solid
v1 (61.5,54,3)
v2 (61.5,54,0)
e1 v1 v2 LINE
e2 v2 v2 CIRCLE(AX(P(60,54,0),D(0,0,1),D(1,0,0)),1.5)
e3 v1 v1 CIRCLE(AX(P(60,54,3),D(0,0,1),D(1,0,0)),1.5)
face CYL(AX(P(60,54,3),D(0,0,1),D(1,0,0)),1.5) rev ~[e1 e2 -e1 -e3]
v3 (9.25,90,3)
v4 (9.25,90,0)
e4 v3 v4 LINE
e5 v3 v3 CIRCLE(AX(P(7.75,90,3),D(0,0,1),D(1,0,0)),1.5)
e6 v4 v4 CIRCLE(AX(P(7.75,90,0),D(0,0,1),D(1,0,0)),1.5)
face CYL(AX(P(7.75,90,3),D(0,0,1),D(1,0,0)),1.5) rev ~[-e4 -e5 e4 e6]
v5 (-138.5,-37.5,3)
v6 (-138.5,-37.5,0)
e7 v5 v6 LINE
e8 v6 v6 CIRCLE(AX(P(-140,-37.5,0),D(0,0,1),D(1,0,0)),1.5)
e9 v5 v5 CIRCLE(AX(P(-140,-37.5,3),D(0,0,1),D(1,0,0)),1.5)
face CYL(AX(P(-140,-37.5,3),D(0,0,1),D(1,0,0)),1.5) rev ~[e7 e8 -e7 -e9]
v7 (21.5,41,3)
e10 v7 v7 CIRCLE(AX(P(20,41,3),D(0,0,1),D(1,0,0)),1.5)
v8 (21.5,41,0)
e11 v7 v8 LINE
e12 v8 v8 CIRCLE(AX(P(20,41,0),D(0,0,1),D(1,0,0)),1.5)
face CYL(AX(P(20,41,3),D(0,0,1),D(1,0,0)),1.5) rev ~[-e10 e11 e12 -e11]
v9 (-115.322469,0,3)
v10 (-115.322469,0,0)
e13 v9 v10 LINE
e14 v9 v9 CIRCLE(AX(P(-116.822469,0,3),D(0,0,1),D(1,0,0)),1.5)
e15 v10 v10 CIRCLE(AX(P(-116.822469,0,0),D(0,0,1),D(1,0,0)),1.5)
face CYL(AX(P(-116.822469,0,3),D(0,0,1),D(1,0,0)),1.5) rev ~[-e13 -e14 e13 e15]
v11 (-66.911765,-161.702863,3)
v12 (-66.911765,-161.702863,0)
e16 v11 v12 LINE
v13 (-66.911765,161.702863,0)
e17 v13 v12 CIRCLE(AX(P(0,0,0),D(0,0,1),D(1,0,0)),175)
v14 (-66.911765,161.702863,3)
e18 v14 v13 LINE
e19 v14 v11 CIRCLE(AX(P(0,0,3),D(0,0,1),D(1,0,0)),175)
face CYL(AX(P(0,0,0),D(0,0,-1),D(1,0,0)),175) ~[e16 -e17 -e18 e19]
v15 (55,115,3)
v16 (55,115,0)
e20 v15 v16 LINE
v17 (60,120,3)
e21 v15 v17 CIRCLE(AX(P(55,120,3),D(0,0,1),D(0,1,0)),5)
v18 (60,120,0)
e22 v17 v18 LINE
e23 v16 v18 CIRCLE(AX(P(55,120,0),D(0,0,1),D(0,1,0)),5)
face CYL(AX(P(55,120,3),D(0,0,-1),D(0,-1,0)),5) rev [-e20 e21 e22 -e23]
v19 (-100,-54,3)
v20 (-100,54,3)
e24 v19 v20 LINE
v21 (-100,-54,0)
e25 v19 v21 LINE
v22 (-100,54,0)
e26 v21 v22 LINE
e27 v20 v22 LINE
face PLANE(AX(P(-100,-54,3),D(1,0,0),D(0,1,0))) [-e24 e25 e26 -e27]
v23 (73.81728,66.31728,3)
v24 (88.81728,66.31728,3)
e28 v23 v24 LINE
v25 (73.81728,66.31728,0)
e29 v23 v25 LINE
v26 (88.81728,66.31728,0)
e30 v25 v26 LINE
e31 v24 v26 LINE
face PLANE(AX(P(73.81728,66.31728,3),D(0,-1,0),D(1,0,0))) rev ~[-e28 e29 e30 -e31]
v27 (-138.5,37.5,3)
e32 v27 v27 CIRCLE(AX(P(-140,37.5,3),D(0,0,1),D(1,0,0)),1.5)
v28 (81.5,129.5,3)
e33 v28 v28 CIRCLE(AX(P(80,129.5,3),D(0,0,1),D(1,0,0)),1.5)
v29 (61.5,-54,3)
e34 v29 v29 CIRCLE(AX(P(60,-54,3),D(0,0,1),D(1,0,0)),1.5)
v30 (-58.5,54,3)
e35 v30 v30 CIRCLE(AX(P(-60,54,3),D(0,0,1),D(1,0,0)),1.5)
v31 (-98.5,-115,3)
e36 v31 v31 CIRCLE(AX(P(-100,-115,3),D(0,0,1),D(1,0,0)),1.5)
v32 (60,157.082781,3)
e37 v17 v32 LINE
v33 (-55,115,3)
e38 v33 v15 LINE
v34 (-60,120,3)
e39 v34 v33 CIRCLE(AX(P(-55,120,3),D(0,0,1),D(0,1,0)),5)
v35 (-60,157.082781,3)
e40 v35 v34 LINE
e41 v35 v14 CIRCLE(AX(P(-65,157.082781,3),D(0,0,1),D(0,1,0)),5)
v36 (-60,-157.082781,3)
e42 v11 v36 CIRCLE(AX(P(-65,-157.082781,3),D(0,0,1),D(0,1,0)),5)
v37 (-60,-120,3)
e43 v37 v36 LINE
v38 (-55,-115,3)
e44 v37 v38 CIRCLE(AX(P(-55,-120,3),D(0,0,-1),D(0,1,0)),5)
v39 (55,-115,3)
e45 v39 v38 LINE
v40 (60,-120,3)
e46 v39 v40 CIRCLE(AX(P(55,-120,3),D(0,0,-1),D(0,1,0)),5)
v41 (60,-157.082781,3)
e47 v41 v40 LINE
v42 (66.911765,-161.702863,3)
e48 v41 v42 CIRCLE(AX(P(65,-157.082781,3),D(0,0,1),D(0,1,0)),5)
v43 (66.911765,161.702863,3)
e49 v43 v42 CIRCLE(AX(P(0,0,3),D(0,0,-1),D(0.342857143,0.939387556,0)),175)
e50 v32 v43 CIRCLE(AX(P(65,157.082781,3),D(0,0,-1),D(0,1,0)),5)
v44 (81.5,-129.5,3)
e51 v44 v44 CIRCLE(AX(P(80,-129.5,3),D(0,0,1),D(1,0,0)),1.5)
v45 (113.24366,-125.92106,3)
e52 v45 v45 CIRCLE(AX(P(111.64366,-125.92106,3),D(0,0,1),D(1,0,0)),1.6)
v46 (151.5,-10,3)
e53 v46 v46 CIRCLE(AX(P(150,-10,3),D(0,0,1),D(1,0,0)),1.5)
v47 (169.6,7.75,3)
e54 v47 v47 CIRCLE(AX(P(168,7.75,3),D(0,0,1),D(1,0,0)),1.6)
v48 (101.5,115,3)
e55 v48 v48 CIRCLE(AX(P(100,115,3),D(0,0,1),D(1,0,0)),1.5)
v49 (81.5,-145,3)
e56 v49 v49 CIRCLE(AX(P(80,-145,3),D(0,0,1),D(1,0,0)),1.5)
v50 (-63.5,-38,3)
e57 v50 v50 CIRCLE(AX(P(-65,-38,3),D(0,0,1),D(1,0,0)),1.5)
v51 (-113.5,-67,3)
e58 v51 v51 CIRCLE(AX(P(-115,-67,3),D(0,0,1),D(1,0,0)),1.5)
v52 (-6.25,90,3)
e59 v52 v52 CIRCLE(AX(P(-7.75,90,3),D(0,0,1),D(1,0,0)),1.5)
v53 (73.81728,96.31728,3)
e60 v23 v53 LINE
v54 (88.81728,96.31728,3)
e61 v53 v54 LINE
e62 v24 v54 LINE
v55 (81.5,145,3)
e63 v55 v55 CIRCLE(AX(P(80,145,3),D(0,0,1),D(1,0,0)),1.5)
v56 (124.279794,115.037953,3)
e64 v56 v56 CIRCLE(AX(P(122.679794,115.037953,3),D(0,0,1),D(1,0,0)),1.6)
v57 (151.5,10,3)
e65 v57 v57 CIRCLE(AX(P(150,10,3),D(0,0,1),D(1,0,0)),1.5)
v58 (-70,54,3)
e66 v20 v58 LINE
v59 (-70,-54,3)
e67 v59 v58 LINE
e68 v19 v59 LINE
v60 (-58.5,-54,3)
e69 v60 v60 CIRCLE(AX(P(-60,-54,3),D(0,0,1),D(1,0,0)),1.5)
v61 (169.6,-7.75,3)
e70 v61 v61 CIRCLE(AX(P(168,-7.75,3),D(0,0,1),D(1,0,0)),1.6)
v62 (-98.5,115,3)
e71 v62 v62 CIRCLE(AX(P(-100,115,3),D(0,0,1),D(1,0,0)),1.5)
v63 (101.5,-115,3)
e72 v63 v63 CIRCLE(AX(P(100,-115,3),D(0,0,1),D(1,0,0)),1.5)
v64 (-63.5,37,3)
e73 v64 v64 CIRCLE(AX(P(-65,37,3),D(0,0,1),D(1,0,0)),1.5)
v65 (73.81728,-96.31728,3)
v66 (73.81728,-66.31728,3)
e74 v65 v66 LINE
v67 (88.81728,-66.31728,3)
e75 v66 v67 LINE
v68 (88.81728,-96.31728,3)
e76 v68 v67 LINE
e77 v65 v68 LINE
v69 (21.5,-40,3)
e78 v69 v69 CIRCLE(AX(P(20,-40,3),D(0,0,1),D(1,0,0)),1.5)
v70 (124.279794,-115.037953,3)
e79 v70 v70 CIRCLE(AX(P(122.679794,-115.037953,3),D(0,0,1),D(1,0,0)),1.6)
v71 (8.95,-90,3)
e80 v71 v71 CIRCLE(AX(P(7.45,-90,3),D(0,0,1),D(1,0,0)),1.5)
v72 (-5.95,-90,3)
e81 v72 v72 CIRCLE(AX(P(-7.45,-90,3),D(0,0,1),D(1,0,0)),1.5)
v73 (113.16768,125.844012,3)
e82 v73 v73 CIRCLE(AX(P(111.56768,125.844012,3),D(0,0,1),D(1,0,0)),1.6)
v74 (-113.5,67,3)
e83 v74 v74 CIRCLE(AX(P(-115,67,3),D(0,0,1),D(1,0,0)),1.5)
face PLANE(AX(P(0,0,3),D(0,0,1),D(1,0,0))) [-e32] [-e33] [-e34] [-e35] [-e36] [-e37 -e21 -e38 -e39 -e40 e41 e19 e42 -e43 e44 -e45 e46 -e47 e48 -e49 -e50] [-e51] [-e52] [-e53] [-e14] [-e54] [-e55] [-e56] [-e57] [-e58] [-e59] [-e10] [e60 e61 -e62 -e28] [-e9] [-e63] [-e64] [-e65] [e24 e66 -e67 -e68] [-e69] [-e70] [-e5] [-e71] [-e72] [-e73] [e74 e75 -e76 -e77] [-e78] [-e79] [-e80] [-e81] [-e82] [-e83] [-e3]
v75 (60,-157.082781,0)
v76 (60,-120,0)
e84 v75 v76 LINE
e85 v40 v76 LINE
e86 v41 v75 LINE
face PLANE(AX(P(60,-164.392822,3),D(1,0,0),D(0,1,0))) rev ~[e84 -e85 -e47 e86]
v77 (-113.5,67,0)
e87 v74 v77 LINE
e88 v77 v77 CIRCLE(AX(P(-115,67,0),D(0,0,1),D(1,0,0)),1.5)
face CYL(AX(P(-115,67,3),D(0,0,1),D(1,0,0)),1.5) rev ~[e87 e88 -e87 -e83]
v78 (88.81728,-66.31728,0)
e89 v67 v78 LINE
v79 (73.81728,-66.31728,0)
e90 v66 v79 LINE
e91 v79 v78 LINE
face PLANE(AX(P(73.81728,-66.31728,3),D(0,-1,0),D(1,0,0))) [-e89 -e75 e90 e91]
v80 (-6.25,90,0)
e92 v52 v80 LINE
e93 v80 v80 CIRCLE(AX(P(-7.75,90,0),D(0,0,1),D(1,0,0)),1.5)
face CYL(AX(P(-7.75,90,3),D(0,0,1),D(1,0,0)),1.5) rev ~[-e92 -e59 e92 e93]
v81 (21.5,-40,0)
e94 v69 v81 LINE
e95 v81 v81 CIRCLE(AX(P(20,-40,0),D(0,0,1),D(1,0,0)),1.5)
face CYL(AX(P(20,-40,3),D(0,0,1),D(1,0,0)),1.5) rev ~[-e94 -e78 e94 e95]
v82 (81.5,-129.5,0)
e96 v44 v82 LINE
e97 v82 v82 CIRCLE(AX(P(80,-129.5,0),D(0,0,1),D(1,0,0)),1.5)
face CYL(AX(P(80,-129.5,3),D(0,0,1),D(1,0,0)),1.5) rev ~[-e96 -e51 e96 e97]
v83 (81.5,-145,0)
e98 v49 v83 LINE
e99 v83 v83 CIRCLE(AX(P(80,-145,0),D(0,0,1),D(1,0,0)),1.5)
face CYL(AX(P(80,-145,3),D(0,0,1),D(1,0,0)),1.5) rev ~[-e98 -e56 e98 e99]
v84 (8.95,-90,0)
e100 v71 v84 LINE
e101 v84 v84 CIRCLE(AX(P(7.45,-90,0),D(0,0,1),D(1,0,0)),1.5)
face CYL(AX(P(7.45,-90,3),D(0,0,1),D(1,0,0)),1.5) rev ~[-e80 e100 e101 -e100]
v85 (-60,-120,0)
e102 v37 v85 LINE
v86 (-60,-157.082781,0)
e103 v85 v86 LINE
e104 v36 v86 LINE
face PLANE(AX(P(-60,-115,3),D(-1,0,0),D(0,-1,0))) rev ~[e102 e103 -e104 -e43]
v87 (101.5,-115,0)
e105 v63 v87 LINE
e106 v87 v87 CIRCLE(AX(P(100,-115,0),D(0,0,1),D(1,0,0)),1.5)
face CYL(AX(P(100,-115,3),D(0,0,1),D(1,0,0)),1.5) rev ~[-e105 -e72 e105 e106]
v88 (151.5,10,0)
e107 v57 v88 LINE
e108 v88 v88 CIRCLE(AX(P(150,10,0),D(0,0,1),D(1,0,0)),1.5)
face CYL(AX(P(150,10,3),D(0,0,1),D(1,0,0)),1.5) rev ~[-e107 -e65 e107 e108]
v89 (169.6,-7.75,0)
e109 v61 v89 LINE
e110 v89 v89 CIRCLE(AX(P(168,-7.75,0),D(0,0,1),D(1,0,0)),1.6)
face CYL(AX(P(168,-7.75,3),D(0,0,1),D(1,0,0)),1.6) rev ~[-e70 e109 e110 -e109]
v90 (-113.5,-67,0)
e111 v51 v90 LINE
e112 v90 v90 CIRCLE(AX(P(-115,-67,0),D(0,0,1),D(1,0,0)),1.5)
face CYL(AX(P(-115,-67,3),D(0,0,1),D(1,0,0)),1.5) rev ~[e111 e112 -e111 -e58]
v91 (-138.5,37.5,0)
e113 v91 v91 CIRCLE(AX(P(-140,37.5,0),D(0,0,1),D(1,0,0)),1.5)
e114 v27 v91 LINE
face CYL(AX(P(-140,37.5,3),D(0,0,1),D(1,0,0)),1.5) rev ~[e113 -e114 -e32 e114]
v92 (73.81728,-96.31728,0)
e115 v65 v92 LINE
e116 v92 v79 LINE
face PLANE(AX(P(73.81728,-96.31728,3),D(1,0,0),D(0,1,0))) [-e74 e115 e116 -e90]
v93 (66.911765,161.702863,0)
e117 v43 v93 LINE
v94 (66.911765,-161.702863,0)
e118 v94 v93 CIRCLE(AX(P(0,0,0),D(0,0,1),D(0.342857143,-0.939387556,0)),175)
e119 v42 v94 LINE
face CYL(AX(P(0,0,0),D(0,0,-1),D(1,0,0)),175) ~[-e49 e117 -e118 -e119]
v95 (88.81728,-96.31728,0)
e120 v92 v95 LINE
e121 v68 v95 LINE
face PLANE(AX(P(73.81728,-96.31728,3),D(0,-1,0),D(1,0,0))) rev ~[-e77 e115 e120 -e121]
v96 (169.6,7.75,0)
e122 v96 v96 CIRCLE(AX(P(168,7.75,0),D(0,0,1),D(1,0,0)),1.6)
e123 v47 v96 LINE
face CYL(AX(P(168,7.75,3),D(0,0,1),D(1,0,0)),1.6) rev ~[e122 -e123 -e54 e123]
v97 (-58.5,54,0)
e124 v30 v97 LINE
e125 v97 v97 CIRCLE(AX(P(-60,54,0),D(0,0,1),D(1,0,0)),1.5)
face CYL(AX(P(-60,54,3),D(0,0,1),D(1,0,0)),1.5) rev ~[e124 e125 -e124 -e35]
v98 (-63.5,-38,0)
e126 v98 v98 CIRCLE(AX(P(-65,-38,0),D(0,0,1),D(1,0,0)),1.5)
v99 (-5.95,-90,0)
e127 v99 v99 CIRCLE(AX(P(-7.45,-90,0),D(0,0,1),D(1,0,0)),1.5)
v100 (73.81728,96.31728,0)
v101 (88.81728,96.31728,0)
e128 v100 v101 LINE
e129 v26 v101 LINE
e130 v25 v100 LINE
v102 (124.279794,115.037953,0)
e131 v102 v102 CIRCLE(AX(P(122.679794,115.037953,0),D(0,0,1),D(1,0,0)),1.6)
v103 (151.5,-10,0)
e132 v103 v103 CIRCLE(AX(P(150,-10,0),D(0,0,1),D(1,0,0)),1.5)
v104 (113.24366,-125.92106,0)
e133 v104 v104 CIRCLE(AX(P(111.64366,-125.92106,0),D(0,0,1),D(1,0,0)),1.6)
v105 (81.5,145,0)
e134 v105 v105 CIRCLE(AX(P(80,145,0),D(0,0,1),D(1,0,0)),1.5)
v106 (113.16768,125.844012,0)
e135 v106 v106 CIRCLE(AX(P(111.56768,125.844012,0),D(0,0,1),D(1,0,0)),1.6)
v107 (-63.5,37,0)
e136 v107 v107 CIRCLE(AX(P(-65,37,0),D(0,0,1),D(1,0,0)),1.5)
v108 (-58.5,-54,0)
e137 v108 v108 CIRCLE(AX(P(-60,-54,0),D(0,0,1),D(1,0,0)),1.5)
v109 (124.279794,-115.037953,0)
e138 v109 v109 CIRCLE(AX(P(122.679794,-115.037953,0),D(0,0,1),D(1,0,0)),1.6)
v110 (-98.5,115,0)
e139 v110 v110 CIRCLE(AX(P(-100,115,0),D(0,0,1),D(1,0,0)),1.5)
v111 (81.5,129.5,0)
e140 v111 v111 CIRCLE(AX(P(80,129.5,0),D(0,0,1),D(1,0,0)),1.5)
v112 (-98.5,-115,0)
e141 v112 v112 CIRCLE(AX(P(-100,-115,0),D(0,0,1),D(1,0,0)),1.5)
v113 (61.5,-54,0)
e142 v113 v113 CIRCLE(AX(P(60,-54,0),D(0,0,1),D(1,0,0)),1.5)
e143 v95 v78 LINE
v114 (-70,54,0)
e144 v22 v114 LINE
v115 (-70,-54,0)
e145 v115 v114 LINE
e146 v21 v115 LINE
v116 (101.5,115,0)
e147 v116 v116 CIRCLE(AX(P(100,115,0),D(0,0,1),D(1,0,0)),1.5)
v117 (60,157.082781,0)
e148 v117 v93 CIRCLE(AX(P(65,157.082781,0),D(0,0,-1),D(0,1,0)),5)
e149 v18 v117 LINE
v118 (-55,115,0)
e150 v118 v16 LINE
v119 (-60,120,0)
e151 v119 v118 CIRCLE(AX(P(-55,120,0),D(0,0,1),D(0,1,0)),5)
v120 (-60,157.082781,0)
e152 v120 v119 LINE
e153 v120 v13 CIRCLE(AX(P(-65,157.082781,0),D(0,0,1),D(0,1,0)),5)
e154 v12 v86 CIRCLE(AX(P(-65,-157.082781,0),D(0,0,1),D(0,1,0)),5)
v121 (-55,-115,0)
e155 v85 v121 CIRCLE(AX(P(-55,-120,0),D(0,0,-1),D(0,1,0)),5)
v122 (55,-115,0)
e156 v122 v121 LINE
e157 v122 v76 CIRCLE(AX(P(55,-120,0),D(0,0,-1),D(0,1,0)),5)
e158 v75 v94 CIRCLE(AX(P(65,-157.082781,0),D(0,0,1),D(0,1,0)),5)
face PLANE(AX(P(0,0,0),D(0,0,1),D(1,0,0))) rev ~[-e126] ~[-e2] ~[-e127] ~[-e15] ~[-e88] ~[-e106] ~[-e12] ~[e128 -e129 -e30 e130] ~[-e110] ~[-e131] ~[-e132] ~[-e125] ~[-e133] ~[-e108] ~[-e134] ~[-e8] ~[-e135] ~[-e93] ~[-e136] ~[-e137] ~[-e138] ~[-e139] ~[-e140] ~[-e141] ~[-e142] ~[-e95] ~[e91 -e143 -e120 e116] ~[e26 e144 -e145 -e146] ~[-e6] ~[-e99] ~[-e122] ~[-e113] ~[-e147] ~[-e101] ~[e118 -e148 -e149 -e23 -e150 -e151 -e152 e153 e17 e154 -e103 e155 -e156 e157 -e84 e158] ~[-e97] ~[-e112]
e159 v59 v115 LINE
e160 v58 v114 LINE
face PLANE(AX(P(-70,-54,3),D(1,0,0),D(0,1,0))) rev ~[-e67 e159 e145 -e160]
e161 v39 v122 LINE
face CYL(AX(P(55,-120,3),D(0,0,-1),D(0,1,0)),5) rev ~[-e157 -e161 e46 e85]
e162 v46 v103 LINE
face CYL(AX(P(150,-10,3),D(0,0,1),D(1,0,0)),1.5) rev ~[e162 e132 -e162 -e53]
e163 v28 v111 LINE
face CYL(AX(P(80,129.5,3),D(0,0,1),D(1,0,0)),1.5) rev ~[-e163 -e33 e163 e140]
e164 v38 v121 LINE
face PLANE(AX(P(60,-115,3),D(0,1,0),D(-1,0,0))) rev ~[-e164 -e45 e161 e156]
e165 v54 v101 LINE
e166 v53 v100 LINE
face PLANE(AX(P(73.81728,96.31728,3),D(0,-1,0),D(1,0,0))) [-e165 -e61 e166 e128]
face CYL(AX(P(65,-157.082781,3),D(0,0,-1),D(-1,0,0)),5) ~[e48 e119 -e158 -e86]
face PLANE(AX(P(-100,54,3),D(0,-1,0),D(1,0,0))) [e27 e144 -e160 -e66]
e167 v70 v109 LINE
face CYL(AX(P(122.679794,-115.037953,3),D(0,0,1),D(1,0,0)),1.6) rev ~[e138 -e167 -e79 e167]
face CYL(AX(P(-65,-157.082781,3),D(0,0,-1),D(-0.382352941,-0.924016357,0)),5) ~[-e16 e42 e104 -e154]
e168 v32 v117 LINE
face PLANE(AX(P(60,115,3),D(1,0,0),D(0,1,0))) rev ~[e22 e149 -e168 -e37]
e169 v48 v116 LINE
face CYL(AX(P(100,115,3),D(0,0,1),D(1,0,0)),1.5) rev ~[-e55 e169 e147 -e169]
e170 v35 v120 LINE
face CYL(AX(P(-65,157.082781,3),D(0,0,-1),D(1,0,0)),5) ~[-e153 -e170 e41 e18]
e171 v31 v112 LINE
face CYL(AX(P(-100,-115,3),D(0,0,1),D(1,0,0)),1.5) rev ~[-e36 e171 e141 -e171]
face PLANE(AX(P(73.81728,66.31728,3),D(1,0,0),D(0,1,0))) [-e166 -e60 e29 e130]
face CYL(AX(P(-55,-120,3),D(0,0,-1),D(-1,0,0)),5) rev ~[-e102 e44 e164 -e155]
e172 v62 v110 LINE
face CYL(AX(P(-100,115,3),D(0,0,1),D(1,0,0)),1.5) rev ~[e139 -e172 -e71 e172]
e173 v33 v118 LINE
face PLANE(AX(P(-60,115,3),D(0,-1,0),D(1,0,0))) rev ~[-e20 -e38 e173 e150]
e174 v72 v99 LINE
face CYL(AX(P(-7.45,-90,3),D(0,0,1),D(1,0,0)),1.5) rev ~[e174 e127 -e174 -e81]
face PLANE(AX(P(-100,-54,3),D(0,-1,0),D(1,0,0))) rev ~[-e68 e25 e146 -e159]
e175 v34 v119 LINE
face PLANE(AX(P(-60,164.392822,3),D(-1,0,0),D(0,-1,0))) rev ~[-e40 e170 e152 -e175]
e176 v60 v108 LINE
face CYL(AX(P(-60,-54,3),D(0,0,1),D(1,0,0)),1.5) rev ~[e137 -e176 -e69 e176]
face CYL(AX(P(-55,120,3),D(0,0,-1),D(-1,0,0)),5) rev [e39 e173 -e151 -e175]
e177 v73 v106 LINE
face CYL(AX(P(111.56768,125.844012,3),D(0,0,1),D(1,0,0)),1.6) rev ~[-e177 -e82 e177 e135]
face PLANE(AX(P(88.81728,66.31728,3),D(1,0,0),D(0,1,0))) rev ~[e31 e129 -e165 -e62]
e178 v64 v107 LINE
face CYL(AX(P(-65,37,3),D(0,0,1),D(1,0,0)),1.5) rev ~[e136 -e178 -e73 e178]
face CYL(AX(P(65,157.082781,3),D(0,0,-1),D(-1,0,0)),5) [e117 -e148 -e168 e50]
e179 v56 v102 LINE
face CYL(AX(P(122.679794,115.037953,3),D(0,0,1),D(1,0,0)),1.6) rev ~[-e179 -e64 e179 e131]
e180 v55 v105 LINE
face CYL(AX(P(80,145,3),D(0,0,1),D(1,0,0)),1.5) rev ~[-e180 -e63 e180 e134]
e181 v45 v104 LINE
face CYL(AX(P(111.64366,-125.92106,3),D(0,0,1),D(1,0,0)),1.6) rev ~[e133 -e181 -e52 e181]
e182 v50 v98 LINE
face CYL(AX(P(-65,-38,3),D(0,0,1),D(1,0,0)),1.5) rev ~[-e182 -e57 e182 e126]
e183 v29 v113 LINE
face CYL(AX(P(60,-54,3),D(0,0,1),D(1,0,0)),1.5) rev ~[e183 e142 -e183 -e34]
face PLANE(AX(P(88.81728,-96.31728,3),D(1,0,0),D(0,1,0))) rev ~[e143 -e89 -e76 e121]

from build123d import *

# Parameters (mm, degrees)
SKETCH_1_R             = 175
EXTRUDE_1_DEPTH        = 3
CUT_EXTRUDE_1_DEPTH    = 3
FILLET_1_R             = 5
FILLET_2_R             = 5
FILLET_3_R             = 5
SKETCH_5_R             = 1.5
CUT_EXTRUDE_4_DEPTH    = 3
SKETCH_6_R             = 1.5
CUT_EXTRUDE_5_DEPTH    = 3
SKETCH_7_W             = 30
SKETCH_7_H             = 108
CUT_EXTRUDE_6_DEPTH    = 3
SKETCH_8_R             = 1.5
CUT_EXTRUDE_7_DEPTH    = 3
SKETCH_9_R             = 1.5
CUT_EXTRUDE_8_DEPTH    = 10
SKETCH_10_R            = 1.6
CUT_EXTRUDE_9_DEPTH    = 10
SKETCH_11_W            = 15
SKETCH_11_H            = 30
CUT_EXTRUDE_10_DEPTH   = 10
SKETCH_17_R            = 1.5
CUT_EXTRUDE_12_DEPTH   = 4
SKETCH_29_R            = 1.5
CUT_EXTRUDE_6879_DEPTH = 4
SKETCH_30_R            = 1.5
CUT_EXTRUDE_7056_DEPTH = 4
SKETCH_31_R            = 1.5
CUT_EXTRUDE_7256_DEPTH = 4
SKETCH_32_R            = 1.5
WEB_DEPTH              = 4


with BuildPart() as part:
    # ｽｹｯﾁ1 → ﾎﾞｽ - 押し出し1 (new body)
    with BuildSketch(Plane.XY):
        Circle(SKETCH_1_R)
    extrude(amount=EXTRUDE_1_DEPTH)

    # ｽｹｯﾁ2 → ｶｯﾄ - 押し出し1 (cut)
    with BuildSketch(Plane.XY.offset(3)):
        with BuildLine():
            Line((-60, 115), (0, 115))
            Line((0, 115), (0, 175))
            ThreePointArc((0, 175), (-30.465194158, 172.327803749), (-60, 164.392822228))
            Line((-60, 164.392822228), (-60, 115))
        make_face()
        with BuildLine():
            Line((0, 175), (0, 115))
            Line((0, 115), (60, 115))
            Line((60, 115), (60, 164.392822228))
            ThreePointArc((60, 164.392822228), (30.465194158, 172.327803749), (0, 175))
        make_face()
        with BuildLine():
            Line((0, -175), (0, -115))
            Line((0, -115), (-60, -115))
            Line((-60, -115), (-60, -164.392822228))
            ThreePointArc((-60, -164.392822228), (-30.465194158, -172.327803749), (0, -175))
        make_face()
        with BuildLine():
            Line((60, -115), (0, -115))
            Line((0, -115), (0, -175))
            ThreePointArc((0, -175), (30.465194158, -172.327803749), (60, -164.392822228))
            Line((60, -164.392822228), (60, -115))
        make_face()
    extrude(amount=-CUT_EXTRUDE_1_DEPTH, mode=Mode.SUBTRACT)

    # ﾌｨﾚｯﾄ1
    fillet_1_edges = [part.edges().sort_by_distance(p)[0] for p in [
        (-60, 164.392822228, 1.5),
    ]]
    fillet(fillet_1_edges, radius=FILLET_1_R)

    # ﾌｨﾚｯﾄ2
    fillet_2_edges = [part.edges().sort_by_distance(p)[0] for p in [
        (-60, 115, 1.5),
        (60, 164.392822228, 1.5),
        (60, 115, 1.5),
    ]]
    fillet(fillet_2_edges, radius=FILLET_2_R)

    # ﾌｨﾚｯﾄ3
    fillet_3_edges = [part.edges().sort_by_distance(p)[0] for p in [
        (-60, -115, 1.5),
        (60, -115, 1.5),
        (60, -164.392822228, 1.5),
        (-60, -164.392822228, 1.5),
    ]]
    fillet(fillet_3_edges, radius=FILLET_3_R)

    # ｽｹｯﾁ5 → ｶｯﾄ - 押し出し4 (cut)
    with BuildSketch(Plane.XY.offset(3)):
        with Locations((-100, -115)):
            Circle(SKETCH_5_R)
        with Locations((100, -115)):
            Circle(SKETCH_5_R)
        with Locations((100, 115)):
            Circle(SKETCH_5_R)
        with Locations((-100, 115)):
            Circle(SKETCH_5_R)
    extrude(amount=-CUT_EXTRUDE_4_DEPTH, mode=Mode.SUBTRACT)

    # ｽｹｯﾁ6 → ｶｯﾄ - 押し出し5 (cut)
    with BuildSketch(Plane.XY.offset(3)):
        with Locations((-60, 54)):
            Circle(SKETCH_6_R)
        with Locations((60, 54)):
            Circle(SKETCH_6_R)
        with Locations((-60, -54)):
            Circle(SKETCH_6_R)
        with Locations((60, -54)):
            Circle(SKETCH_6_R)
    extrude(amount=-CUT_EXTRUDE_5_DEPTH, mode=Mode.SUBTRACT)

    # ｽｹｯﾁ7 → ｶｯﾄ - 押し出し6 (cut)
    with BuildSketch(Plane.XY.offset(3)):
        with Locations((-85, 0)):
            Rectangle(SKETCH_7_W, SKETCH_7_H)
    extrude(amount=-CUT_EXTRUDE_6_DEPTH, mode=Mode.SUBTRACT)

    # ｽｹｯﾁ8 → ｶｯﾄ - 押し出し7 (cut)
    with BuildSketch(Plane.XY.offset(3)):
        with Locations((-115, -67)):
            Circle(SKETCH_8_R)
        with Locations((-116.822468618, 0)):
            Circle(SKETCH_8_R)
        with Locations((-115, 67)):
            Circle(SKETCH_8_R)
    extrude(amount=-CUT_EXTRUDE_7_DEPTH, mode=Mode.SUBTRACT)

    # ｽｹｯﾁ9 → ｶｯﾄ - 押し出し8 (cut)
    with BuildSketch(Plane.XY.offset(3)):
        with Locations((-65, 37)):
            Circle(SKETCH_9_R)
        with Locations((20, 41)):
            Circle(SKETCH_9_R)
        with Locations((-65, -38)):
            Circle(SKETCH_9_R)
        with Locations((20, -40)):
            Circle(SKETCH_9_R)
    extrude(amount=-CUT_EXTRUDE_8_DEPTH, mode=Mode.SUBTRACT)

    # ｽｹｯﾁ10 → ｶｯﾄ - 押し出し9 (cut)
    with BuildSketch(Plane.XY.offset(3)):
        with Locations((111.643659725, -125.921059639)):
            Circle(SKETCH_10_R)
        with Locations((122.679794489, -115.037952538)):
            Circle(SKETCH_10_R)
        with Locations((168, 7.75)):
            Circle(SKETCH_10_R)
        with Locations((168, -7.75)):
            Circle(SKETCH_10_R)
        with Locations((111.56768007, 125.844011632)):
            Circle(SKETCH_10_R)
        with Locations((122.679794489, 115.037952538)):
            Circle(SKETCH_10_R)
    extrude(amount=-CUT_EXTRUDE_9_DEPTH, mode=Mode.SUBTRACT)

    # ｽｹｯﾁ11 → ｶｯﾄ - 押し出し10 (cut)
    with BuildSketch(Plane.XY.offset(3)):
        with Locations((81.317279836, 81.317279836)):
            Rectangle(SKETCH_11_W, SKETCH_11_H)
        with Locations((81.317279836, -81.317279836)):
            Rectangle(SKETCH_11_W, SKETCH_11_H)
    extrude(amount=-CUT_EXTRUDE_10_DEPTH, mode=Mode.SUBTRACT)

    # ｽｹｯﾁ17 → ｶｯﾄ - 押し出し12 (cut, through all)
    with BuildSketch(Plane.XY.offset(3)):
        with Locations((-7.75, 90)):
            Circle(SKETCH_17_R)
        with Locations((7.75, 90)):
            Circle(SKETCH_17_R)
        with Locations((7.45, -90)):
            Circle(SKETCH_17_R)
        with Locations((-7.45, -90)):
            Circle(SKETCH_17_R)
    extrude(amount=-CUT_EXTRUDE_12_DEPTH, mode=Mode.SUBTRACT)

    # ｽｹｯﾁ29 → Cut-Extrude 6879 (cut, through all)
    with BuildSketch(Plane.XY.offset(3)):
        with Locations((80, 145)):
            Circle(SKETCH_29_R)
        with Locations((80, 129.5)):
            Circle(SKETCH_29_R)
    extrude(amount=-CUT_EXTRUDE_6879_DEPTH, mode=Mode.SUBTRACT)

    # ｽｹｯﾁ30 → Cut-Extrude 7056 (cut, through all)
    with BuildSketch(Plane.XY.offset(3)):
        with Locations((80, -129.5)):
            Circle(SKETCH_30_R)
        with Locations((80, -145)):
            Circle(SKETCH_30_R)
    extrude(amount=-CUT_EXTRUDE_7056_DEPTH, mode=Mode.SUBTRACT)

    # ｽｹｯﾁ31 → Cut-Extrude 7256 (cut, through all)
    with BuildSketch(Plane.XY.offset(3)):
        with Locations((-140, 37.5)):
            Circle(SKETCH_31_R)
        with Locations((-140, -37.5)):
            Circle(SKETCH_31_R)
    extrude(amount=-CUT_EXTRUDE_7256_DEPTH, mode=Mode.SUBTRACT)

    # ｽｹｯﾁ32 → WEBカメラ (cut, through all)
    with BuildSketch(Plane.XY.offset(3)):
        with Locations((150, 10)):
            Circle(SKETCH_32_R)
        with Locations((150, -10)):
            Circle(SKETCH_32_R)
    extrude(amount=-WEB_DEPTH, mode=Mode.SUBTRACT)


solid = part.part
